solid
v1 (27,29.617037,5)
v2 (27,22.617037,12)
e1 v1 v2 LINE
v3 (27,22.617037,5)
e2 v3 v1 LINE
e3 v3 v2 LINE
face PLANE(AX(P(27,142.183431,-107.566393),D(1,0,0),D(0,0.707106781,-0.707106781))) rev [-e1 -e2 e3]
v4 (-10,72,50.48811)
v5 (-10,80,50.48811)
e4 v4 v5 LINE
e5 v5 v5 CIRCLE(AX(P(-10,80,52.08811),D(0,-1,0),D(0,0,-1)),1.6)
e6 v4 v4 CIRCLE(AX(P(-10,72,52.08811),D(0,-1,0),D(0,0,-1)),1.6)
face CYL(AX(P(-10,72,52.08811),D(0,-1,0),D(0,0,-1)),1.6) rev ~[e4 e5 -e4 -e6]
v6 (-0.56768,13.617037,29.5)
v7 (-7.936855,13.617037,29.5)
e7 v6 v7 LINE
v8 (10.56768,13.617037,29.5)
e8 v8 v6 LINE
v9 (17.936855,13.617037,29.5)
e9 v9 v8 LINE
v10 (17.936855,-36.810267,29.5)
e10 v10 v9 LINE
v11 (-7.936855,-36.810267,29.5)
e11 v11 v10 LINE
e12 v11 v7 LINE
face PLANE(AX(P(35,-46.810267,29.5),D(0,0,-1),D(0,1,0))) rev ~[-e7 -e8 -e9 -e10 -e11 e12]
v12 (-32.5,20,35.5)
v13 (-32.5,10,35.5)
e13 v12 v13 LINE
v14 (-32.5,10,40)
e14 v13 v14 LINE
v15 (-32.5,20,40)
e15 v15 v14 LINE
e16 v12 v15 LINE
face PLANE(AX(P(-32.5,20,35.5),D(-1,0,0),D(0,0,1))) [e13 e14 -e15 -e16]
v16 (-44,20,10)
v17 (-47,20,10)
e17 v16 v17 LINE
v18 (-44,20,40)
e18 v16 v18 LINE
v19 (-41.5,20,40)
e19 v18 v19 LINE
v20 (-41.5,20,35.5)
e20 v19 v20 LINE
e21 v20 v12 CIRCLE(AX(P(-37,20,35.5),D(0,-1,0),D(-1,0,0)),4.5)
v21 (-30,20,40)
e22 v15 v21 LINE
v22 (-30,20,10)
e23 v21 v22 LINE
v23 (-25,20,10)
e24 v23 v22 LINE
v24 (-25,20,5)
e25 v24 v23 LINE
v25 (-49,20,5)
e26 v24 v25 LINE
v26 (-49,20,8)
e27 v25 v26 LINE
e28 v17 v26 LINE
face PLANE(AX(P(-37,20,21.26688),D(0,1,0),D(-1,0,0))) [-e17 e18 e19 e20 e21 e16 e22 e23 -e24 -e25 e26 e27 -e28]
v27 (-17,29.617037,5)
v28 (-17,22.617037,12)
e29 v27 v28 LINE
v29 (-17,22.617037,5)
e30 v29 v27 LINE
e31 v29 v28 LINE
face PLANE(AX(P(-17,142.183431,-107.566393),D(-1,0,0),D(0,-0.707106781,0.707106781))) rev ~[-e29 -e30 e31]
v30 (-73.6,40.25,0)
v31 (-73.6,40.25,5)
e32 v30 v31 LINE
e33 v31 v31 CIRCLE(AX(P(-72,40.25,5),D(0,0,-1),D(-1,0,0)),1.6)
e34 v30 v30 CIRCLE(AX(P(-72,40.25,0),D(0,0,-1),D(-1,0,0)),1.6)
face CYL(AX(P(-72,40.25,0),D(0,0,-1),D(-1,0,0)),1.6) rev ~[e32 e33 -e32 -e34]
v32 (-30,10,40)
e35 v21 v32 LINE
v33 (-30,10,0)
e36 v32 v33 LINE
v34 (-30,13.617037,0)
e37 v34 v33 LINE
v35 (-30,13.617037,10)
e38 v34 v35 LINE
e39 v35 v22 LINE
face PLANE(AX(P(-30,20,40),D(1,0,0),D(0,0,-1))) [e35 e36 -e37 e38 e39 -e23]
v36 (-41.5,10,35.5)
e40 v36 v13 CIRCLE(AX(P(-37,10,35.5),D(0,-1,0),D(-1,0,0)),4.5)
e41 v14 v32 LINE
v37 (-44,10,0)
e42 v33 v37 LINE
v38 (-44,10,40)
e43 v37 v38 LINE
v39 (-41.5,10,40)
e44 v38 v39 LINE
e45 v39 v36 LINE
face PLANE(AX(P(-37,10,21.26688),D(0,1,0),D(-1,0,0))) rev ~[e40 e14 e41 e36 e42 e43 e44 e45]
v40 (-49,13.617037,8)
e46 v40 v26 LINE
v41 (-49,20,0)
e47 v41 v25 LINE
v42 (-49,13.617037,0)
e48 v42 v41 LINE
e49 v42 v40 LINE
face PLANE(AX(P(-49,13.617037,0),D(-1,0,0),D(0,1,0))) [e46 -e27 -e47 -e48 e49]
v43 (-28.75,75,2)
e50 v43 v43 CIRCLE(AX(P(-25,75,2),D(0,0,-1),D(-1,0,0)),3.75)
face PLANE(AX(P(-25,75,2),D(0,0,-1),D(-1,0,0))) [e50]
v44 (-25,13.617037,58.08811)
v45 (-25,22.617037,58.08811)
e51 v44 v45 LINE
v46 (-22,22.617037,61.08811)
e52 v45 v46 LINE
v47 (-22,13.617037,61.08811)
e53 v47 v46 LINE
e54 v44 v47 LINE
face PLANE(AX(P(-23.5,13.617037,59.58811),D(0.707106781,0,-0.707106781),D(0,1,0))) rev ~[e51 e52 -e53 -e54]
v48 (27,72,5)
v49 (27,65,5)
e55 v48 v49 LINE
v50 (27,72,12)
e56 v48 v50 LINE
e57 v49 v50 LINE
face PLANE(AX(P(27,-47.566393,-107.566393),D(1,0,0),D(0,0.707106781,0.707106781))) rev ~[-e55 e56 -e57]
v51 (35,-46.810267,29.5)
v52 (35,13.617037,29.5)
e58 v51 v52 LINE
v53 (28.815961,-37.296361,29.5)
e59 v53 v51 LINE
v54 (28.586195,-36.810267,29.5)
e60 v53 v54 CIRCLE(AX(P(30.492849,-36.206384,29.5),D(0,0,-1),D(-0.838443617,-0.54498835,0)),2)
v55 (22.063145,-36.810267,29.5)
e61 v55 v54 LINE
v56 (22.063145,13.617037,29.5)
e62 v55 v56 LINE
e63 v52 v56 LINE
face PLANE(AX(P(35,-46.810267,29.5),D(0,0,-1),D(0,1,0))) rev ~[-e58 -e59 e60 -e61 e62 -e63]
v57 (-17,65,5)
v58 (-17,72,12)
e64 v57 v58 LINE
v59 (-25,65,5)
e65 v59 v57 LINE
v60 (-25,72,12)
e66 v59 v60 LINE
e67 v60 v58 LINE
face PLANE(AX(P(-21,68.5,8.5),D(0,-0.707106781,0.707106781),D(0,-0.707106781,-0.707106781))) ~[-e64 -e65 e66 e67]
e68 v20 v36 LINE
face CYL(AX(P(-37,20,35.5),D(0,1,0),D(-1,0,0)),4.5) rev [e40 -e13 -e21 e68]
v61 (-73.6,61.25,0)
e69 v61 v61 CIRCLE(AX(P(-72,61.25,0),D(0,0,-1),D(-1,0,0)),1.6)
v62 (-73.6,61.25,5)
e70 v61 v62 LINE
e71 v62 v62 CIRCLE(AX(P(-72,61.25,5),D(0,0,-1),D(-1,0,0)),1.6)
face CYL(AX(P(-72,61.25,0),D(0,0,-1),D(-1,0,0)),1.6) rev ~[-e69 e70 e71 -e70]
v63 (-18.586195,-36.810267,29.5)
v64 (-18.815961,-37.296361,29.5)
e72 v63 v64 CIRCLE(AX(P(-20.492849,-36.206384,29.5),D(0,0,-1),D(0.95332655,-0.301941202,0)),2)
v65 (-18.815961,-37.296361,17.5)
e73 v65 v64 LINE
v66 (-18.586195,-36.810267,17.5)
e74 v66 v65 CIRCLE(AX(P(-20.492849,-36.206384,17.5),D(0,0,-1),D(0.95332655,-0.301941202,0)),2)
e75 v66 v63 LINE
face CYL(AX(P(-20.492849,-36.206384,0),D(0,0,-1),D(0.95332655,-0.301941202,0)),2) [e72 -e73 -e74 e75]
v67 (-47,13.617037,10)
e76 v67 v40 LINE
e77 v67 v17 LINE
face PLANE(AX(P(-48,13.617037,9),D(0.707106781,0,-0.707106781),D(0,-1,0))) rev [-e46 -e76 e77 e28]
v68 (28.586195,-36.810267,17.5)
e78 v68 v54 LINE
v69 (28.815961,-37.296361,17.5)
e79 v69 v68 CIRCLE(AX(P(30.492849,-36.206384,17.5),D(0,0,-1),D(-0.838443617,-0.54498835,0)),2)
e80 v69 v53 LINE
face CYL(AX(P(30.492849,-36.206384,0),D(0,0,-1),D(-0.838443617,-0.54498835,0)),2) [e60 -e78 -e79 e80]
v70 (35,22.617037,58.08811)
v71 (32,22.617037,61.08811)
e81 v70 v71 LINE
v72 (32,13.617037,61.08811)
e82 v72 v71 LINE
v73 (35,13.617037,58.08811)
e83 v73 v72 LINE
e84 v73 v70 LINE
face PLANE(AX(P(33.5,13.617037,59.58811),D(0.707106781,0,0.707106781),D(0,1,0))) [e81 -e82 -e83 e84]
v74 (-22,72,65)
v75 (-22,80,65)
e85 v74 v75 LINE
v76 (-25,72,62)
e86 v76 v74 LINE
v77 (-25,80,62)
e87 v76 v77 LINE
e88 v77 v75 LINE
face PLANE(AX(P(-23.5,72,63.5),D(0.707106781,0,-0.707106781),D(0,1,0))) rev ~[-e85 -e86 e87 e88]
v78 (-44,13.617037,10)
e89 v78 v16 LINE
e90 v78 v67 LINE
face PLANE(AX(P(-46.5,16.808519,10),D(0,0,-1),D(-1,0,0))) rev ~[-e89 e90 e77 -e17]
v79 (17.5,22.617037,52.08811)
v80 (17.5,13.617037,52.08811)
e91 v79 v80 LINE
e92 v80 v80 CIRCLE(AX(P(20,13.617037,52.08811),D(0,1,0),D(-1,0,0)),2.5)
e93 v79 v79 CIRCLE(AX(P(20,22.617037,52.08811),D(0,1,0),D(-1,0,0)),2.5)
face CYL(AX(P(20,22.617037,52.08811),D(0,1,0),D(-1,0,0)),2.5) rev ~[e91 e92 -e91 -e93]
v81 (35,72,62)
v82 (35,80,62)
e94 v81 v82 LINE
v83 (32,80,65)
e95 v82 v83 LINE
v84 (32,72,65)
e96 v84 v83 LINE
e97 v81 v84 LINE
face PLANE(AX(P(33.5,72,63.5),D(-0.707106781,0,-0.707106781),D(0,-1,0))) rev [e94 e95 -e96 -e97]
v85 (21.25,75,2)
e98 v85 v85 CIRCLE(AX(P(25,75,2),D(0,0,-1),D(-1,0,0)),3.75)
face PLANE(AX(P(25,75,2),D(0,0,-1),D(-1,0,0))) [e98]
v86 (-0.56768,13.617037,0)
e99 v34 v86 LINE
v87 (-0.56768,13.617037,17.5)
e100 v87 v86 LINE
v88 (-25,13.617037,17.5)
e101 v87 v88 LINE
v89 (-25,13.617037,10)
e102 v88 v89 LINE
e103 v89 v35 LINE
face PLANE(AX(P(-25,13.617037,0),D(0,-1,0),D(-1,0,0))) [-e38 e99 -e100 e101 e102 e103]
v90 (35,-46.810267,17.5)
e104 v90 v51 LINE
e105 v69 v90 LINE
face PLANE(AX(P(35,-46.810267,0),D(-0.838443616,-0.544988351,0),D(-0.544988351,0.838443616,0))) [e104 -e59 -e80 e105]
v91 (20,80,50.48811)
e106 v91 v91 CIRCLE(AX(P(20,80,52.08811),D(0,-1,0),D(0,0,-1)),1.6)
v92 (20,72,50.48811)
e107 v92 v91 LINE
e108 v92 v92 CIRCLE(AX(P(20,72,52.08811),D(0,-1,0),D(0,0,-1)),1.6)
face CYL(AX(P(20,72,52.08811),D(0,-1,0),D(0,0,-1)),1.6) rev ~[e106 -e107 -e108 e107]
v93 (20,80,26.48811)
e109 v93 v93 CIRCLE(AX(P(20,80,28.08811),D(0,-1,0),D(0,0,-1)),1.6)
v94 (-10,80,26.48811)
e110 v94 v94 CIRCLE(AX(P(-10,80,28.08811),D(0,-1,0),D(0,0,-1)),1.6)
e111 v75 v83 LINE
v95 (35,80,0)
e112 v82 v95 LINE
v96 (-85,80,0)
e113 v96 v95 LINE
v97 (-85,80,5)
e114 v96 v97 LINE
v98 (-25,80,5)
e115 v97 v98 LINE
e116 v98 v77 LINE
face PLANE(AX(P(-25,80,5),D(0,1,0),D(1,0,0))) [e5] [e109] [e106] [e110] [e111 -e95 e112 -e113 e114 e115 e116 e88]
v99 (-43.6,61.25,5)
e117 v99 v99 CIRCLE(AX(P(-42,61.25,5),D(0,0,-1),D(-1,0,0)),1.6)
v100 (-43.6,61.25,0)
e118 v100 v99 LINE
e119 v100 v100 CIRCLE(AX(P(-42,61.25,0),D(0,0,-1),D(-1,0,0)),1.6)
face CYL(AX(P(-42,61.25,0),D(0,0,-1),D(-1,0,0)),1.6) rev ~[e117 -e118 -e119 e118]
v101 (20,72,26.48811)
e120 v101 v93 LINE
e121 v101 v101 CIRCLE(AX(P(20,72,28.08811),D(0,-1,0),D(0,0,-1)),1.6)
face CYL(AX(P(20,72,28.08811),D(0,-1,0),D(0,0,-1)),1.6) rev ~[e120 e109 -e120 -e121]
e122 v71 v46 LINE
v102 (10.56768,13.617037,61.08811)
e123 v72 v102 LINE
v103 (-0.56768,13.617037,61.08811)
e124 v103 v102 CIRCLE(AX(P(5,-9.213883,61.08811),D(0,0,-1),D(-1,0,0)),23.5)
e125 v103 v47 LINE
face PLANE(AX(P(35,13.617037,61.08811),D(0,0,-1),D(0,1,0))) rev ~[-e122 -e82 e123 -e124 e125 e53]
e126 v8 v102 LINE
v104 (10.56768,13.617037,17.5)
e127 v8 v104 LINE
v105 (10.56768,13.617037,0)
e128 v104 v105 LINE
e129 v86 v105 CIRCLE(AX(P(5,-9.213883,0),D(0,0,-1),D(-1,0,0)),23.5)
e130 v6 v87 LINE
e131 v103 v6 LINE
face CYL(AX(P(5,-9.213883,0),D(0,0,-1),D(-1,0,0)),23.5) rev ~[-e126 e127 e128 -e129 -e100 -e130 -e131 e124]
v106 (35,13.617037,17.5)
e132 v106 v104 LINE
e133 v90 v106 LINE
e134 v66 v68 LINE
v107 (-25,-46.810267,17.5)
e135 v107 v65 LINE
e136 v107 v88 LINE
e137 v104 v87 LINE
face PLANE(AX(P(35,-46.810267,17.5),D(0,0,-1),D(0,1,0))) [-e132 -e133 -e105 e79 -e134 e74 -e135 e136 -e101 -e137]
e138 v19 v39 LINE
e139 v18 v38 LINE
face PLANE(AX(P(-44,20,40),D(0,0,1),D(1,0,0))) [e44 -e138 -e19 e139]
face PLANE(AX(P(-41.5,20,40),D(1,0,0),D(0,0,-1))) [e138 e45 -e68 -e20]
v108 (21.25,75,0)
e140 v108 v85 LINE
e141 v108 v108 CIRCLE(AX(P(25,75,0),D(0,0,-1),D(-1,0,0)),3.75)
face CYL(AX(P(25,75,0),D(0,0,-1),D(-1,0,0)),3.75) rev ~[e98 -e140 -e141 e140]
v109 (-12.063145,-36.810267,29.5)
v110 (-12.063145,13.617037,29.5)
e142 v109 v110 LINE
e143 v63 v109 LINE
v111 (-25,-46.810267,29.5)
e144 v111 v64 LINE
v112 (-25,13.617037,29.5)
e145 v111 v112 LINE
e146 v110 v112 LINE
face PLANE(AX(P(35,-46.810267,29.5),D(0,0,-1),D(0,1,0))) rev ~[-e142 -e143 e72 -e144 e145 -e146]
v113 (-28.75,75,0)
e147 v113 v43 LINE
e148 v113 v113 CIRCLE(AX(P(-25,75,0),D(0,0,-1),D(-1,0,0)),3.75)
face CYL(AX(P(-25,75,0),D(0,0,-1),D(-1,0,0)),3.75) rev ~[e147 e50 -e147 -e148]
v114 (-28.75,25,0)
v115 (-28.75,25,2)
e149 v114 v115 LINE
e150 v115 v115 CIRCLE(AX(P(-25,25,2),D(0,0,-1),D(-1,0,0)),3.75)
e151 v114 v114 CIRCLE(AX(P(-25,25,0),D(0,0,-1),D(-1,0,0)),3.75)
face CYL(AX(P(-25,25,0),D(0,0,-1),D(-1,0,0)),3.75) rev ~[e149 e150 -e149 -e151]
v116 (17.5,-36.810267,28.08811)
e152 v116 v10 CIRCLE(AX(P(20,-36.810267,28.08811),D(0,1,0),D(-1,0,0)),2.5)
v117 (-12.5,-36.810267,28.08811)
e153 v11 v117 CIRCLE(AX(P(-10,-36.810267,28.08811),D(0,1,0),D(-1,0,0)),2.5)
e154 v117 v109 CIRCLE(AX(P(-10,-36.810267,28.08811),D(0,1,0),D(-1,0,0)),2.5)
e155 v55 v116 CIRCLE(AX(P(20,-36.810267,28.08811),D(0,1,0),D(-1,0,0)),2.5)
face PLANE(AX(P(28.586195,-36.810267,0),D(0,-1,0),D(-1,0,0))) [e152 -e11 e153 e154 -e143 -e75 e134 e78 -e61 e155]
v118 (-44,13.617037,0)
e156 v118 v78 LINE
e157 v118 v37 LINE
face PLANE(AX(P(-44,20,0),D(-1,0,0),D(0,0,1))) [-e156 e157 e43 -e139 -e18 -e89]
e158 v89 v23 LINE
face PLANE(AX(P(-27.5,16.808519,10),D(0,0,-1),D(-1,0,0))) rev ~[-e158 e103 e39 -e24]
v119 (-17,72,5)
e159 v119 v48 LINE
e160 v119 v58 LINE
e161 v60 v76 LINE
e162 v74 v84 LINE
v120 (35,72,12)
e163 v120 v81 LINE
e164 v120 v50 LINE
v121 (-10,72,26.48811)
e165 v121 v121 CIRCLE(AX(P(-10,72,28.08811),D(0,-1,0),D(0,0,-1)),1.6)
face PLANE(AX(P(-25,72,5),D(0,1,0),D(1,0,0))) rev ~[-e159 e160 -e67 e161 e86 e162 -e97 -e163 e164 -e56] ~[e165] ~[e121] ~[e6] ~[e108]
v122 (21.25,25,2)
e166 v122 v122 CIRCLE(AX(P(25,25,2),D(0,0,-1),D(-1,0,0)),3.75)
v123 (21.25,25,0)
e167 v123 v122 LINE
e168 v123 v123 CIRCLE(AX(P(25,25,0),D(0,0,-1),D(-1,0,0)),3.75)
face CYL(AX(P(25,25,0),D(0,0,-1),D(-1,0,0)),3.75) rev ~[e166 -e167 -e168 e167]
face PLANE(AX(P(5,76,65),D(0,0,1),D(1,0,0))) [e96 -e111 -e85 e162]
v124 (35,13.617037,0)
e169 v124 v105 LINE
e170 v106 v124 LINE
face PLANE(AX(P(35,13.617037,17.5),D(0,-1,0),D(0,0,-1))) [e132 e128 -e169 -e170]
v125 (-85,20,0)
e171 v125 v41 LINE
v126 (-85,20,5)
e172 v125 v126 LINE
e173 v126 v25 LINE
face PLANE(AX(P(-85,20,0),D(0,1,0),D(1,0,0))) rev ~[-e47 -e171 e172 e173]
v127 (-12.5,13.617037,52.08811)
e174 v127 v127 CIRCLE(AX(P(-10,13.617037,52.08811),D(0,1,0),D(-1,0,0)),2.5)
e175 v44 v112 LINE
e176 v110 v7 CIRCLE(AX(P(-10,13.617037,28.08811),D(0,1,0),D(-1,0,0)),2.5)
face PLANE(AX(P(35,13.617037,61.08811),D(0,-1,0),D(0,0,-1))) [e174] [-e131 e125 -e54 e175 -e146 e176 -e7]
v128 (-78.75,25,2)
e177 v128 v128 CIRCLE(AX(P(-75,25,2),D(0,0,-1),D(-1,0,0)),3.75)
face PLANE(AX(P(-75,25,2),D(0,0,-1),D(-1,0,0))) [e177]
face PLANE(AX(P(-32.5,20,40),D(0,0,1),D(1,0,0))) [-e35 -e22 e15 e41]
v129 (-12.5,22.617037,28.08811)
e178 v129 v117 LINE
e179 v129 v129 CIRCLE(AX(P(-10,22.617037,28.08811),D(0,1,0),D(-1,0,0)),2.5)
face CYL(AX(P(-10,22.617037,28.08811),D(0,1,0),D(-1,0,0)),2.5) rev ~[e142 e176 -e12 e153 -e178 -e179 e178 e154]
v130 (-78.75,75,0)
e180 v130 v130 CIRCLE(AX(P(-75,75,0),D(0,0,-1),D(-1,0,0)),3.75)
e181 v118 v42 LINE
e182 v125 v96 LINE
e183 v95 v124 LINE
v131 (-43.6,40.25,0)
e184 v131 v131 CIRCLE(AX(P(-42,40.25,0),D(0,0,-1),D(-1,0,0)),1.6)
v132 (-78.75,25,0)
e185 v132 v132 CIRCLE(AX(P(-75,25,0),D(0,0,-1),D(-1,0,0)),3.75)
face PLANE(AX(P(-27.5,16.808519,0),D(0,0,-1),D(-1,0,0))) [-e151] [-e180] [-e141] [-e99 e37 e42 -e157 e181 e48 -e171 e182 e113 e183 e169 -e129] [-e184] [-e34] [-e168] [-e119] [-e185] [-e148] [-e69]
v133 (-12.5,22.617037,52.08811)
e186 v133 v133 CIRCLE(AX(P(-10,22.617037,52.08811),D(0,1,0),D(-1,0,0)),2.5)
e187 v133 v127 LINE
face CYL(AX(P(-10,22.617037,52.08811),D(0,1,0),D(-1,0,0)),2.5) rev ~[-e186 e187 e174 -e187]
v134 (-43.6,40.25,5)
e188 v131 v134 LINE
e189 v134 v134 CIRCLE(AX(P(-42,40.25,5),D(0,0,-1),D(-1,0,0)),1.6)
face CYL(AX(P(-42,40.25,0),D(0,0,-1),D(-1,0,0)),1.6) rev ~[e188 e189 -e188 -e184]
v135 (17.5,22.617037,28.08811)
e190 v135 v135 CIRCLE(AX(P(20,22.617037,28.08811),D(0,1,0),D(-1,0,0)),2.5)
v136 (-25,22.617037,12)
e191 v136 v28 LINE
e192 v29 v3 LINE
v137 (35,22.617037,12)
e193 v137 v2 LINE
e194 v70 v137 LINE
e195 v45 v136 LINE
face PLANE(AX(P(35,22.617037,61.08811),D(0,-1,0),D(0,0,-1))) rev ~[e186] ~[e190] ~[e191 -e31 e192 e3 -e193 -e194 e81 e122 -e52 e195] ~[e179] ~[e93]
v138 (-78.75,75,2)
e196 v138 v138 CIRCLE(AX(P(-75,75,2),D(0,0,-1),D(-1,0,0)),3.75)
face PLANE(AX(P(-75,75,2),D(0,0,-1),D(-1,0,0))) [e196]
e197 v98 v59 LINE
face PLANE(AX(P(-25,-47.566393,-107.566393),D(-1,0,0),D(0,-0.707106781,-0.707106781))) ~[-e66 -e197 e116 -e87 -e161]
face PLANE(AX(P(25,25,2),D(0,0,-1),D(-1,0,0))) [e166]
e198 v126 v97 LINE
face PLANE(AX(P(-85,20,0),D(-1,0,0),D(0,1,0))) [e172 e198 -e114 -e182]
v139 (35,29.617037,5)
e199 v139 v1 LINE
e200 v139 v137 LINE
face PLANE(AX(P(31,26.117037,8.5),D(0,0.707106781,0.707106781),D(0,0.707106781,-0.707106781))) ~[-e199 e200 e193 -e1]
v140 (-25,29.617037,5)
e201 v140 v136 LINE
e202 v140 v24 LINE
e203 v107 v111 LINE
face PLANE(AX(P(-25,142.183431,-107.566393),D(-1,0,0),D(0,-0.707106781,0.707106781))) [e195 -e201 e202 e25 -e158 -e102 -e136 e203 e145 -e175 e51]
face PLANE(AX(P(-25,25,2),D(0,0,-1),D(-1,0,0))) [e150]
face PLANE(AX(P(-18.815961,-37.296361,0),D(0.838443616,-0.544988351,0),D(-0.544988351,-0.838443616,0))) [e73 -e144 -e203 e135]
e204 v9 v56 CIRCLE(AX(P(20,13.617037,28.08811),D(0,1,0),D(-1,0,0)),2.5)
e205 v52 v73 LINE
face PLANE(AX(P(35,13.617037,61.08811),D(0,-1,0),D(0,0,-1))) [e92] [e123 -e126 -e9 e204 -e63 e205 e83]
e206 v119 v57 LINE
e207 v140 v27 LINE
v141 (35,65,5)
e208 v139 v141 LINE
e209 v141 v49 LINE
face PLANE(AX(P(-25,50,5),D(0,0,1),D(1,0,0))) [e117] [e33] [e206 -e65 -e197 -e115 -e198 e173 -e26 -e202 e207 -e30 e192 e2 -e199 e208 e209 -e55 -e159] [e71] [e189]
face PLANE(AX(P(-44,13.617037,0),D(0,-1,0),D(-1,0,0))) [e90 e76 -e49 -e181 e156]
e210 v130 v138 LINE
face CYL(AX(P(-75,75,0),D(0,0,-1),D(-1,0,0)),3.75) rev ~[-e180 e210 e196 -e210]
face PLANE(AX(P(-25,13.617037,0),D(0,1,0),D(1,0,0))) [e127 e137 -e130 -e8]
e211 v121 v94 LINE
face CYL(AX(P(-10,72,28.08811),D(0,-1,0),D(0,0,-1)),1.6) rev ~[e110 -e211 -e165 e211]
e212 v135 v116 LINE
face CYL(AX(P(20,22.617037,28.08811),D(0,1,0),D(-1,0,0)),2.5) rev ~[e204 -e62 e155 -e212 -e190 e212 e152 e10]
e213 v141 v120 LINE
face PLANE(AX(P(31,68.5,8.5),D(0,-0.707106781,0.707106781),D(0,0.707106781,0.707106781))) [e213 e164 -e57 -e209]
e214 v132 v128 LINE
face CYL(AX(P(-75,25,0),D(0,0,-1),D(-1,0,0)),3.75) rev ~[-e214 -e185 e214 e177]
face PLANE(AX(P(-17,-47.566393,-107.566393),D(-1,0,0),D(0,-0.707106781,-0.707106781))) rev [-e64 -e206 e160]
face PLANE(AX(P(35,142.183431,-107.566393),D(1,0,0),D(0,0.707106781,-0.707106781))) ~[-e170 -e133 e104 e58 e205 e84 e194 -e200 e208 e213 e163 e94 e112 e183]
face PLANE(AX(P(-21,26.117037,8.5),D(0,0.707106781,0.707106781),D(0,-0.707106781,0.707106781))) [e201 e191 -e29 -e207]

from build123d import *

# Parameters (mm, degrees)
SKETCH_1_W               = 120
SKETCH_1_H               = 60
EXTRUDE_1_DEPTH          = 5
SKETCH_3_W               = 60
SKETCH_3_H               = 8
EXTRUDE_3_DEPTH          = 60
SKETCH_4_W               = 61.088110118
SKETCH_4_H               = 9
EXTRUDE_4_DEPTH          = 60
SKETCH_6_R               = 23.5
CUT_EXTRUDE_1_DEPTH      = 134.603892159
EXTRUDE_5_DEPTH          = 50
SKETCH_8_W               = 20.5
SKETCH_8_H               = 60.427303984
SKETCH_8_W_2             = 17.5
CUT_EXTRUDE_2_DEPTH      = 60
EXTRUDE_6_DEPTH          = 10
SKETCH_11_R              = 1.6
CUT_EXTRUDE_3_DEPTH      = 160.893337757
SKETCH_12_R              = 1.6
CUT_EXTRUDE_4_DEPTH      = 134.603892159
RIB_1_REACH              = 160.193
SKETCH_13_WALL_W         = 328.285335328
SKETCH_13_WALL_H         = 8
MIRROR_2_COPY_1_REACH    = 160.193
MIRROR_2_COPY_1_SKETCH_W = 328.285335328
MIRROR_2_COPY_1_SKETCH_H = 8
SKETCH_15_W              = 5
SKETCH_15_H              = 6.382962656
EXTRUDE_7_DEPTH          = 10
CHAMFER_2_SIZE           = 2
CHAMFER_3_SIZE           = 3
SKETCH_16_R              = 2.5
CUT_EXTRUDE_5_DEPTH      = 128.554500267
SKETCH_18_R              = 3.75
CUT_EXTRUDE_7_DEPTH      = 2


with BuildPart() as part:
    # 草图1 → 凸台-拉伸1 (new body)
    with BuildSketch(Plane.XY):
        with Locations((-25, 50)):
            Rectangle(SKETCH_1_W, SKETCH_1_H)
    extrude(amount=EXTRUDE_1_DEPTH)

    # 草图3 → 凸台-拉伸3 (add)
    with BuildSketch(Plane.XY.offset(5)):
        with Locations((5, 76)):
            Rectangle(SKETCH_3_W, SKETCH_3_H)
    extrude(amount=EXTRUDE_3_DEPTH)

    # 草图4 → 凸台-拉伸4 (add)
    with BuildSketch(Plane(origin=(35, 0, 0), x_dir=(0, 0, -1), z_dir=(1, 0, 0))):
        with Locations((-30.544055059, 18.117037344)):
            Rectangle(SKETCH_4_W, SKETCH_4_H)
    extrude(amount=-EXTRUDE_4_DEPTH)

    # 草图6 → 切除-拉伸1 (cut, through all)
    with BuildSketch(Plane(origin=(0, 0, 0), x_dir=(-1, 0, 0), z_dir=(0, 0, -1))):
        with Locations((-5, -9.213883343)):
            Circle(SKETCH_6_R)
    extrude(amount=-CUT_EXTRUDE_1_DEPTH, mode=Mode.SUBTRACT)

    # 草图7 → 凸台-拉伸5 (add)
    with BuildSketch(Plane(origin=(0, 0, 0), x_dir=(-1, 0, 0), z_dir=(0, 0, -1))):
        with BuildLine():
            Line((25, 13.617037344), (-35, 13.617037344))
            Line((-35, 13.617037344), (-35, -46.81026664))
            Line((-35, -46.81026664), (-28.815961295, -37.29636094))
            ThreePointArc((-28.815961295, -37.29636094), (-28.684669265, -37.061070002), (-28.586195427, -36.81026664))
            Line((-28.586195427, -36.81026664), (18.586195427, -36.81026664))
            ThreePointArc((18.586195427, -36.81026664), (18.684669265, -37.061070002), (18.815961295, -37.29636094))
            Line((18.815961295, -37.29636094), (25, -46.81026664))
            Line((25, -46.81026664), (25, 13.617037344))
        make_face()
    extrude(amount=-EXTRUDE_5_DEPTH)

    # 草图8 → 切除-拉伸2 (cut)
    with BuildSketch(Plane(origin=(35, 0, 0), x_dir=(0, 0, -1), z_dir=(1, 0, 0))):
        with Locations((-39.75, -16.596614648)):
            Rectangle(SKETCH_8_W, SKETCH_8_H)
        with Locations((-8.75, -16.596614648)):
            Rectangle(SKETCH_8_W_2, SKETCH_8_H)
    extrude(amount=-CUT_EXTRUDE_2_DEPTH, mode=Mode.SUBTRACT)

    # 草图9 → 凸台-拉伸6 (add)
    with BuildSketch(Plane.XZ.offset(-20)):
        with BuildLine():
            Line((-32.5, 0), (-41.5, 0))
            Line((-41.5, 0), (-44, 0))
            Line((-44, 0), (-44, 40))
            Line((-44, 40), (-41.5, 40))
            Line((-41.5, 40), (-41.5, 35.5))
            ThreePointArc((-41.5, 35.5), (-37, 31), (-32.5, 35.5))
            Line((-32.5, 35.5), (-32.5, 40))
            Line((-32.5, 40), (-30, 40))
            Line((-30, 40), (-30, 0))
            Line((-30, 0), (-32.5, 0))
        make_face()
    extrude(amount=EXTRUDE_6_DEPTH)

    # 草图11 → 切除-拉伸3 (cut, through all)
    with BuildSketch(Plane(origin=(0, 72, 0), x_dir=(-1, 0, 0), z_dir=(0, -1, 0))):
        with Locations(Location((-20, -52.088110118, 0), (0, 0, 90))):
            Circle(SKETCH_11_R)
        with Locations(Location((10, -28.088110118, 0), (0, 0, 90))):
            Circle(SKETCH_11_R)
        with Locations(Location((-20, -28.088110118, 0), (0, 0, 90))):
            Circle(SKETCH_11_R)
        with Locations(Location((10, -52.088110118, 0), (0, 0, 90))):
            Circle(SKETCH_11_R)
    extrude(amount=-CUT_EXTRUDE_3_DEPTH, mode=Mode.SUBTRACT)

    # 草图12 → 切除-拉伸4 (cut, through all)
    with BuildSketch(Plane(origin=(0, 0, 0), x_dir=(-1, 0, 0), z_dir=(0, 0, -1))):
        with Locations((42, 40.25)):
            Circle(SKETCH_12_R)
        with Locations((42, 61.25)):
            Circle(SKETCH_12_R)
        with Locations((72, 40.25)):
            Circle(SKETCH_12_R)
        with Locations((72, 61.25)):
            Circle(SKETCH_12_R)
    extrude(amount=-CUT_EXTRUDE_4_DEPTH, mode=Mode.SUBTRACT)

    # 草图13 wall → 筋1 (add, up to next)
    with BuildSketch(Plane(origin=(35, 68.5, 8.5), x_dir=(0, 0.707106781187, 0.707106781187), z_dir=(0, -0.707106781187, 0.707106781187)), mode=Mode.PRIVATE) as rib_1_sk1:
        with Locations((0, 4)):
            Rectangle(SKETCH_13_WALL_W, SKETCH_13_WALL_H)
    rib_1_tool1 = extrude(rib_1_sk1.sketch, amount=-RIB_1_REACH, mode=Mode.PRIVATE) - part.part
    rib_1 = rib_1_tool1.solids().sort_by_distance((35, 68.5, 8.5))[0]
    add(rib_1)

    # 镜向1: 筋1 across plane
    add(rib_1.mirror(Plane(origin=(5, 0, 0), x_dir=(0, 0, 1), z_dir=(1, 0, 0))))

    # 镜向2: 筋1 across plane
    add(rib_1.mirror(Plane(origin=(0, 47.308518672, 0), x_dir=(0, 0, 1), z_dir=(0, -1, 0))))

    # 镜向2 copy 1 sketch → 镜向2 copy 1 (add, up to next)
    with BuildSketch(Plane(origin=(-25, 26.117037344, 8.5), x_dir=(0, -0.7071067811870001, 0.7071067811869999), z_dir=(0, 0.7071067811869999, 0.7071067811870001)), mode=Mode.PRIVATE) as mirror_2_copy_1_sk1:
        with Locations((0, 4)):
            Rectangle(MIRROR_2_COPY_1_SKETCH_W, MIRROR_2_COPY_1_SKETCH_H)
    mirror_2_copy_1_tool1 = extrude(mirror_2_copy_1_sk1.sketch, amount=-MIRROR_2_COPY_1_REACH, mode=Mode.PRIVATE) - part.part
    add(mirror_2_copy_1_tool1.solids().sort_by_distance((-25, 26.117037344, 8.5))[0])

    # 草图15 → 凸台-拉伸7 (add)
    with BuildSketch(Plane(origin=(0, 0, 0), x_dir=(-1, 0, 0), z_dir=(0, 0, -1))):
        with Locations((27.5, 16.808518672)):
            Rectangle(SKETCH_15_W, SKETCH_15_H)
        with Locations((46.5, 16.808518672)):
            Rectangle(SKETCH_15_W, SKETCH_15_H)
    extrude(amount=-EXTRUDE_7_DEPTH)

    # 倒角2
    chamfer_2_edges = [part.edges().sort_by_distance(p)[0] for p in [
        (-49, 16.808518672, 10),
    ]]
    chamfer(chamfer_2_edges, length=CHAMFER_2_SIZE)

    # 倒角3
    chamfer_3_edges = [part.edges().sort_by_distance(p)[0] for p in [
        (-25, 76, 65),
        (35, 76, 65),
        (35, 18.117037344, 61.088110118),
        (-25, 18.117037344, 61.088110118),
    ]]
    chamfer(chamfer_3_edges, length=CHAMFER_3_SIZE)

    # 草图16 → 切除-拉伸5 (cut, through all)
    with BuildSketch(Plane(origin=(0, 22.617037344, 0), x_dir=(1, 0, 0), z_dir=(0, 1, 0))):
        with Locations(Location((20, -52.088110118, 0), (0, 0, 180))):
            Circle(SKETCH_16_R)
        with Locations(Location((-10, -52.088110118, 0), (0, 0, 180))):
            Circle(SKETCH_16_R)
        with Locations(Location((-10, -28.088110118, 0), (0, 0, 180))):
            Circle(SKETCH_16_R)
        with Locations(Location((20, -28.088110118, 0), (0, 0, 180))):
            Circle(SKETCH_16_R)
    extrude(amount=-CUT_EXTRUDE_5_DEPTH, mode=Mode.SUBTRACT)

    # 草图18 → 切除-拉伸7 (cut)
    with BuildSketch(Plane(origin=(0, 0, 0), x_dir=(-1, 0, 0), z_dir=(0, 0, -1))):
        with Locations((75, 75)):
            Circle(SKETCH_18_R)
        with Locations((25, 75)):
            Circle(SKETCH_18_R)
        with Locations((-25, 75)):
            Circle(SKETCH_18_R)
        with Locations((-25, 25)):
            Circle(SKETCH_18_R)
        with Locations((25, 25)):
            Circle(SKETCH_18_R)
        with Locations((75, 25)):
            Circle(SKETCH_18_R)
    extrude(amount=-CUT_EXTRUDE_7_DEPTH, mode=Mode.SUBTRACT)


solid = part.part
